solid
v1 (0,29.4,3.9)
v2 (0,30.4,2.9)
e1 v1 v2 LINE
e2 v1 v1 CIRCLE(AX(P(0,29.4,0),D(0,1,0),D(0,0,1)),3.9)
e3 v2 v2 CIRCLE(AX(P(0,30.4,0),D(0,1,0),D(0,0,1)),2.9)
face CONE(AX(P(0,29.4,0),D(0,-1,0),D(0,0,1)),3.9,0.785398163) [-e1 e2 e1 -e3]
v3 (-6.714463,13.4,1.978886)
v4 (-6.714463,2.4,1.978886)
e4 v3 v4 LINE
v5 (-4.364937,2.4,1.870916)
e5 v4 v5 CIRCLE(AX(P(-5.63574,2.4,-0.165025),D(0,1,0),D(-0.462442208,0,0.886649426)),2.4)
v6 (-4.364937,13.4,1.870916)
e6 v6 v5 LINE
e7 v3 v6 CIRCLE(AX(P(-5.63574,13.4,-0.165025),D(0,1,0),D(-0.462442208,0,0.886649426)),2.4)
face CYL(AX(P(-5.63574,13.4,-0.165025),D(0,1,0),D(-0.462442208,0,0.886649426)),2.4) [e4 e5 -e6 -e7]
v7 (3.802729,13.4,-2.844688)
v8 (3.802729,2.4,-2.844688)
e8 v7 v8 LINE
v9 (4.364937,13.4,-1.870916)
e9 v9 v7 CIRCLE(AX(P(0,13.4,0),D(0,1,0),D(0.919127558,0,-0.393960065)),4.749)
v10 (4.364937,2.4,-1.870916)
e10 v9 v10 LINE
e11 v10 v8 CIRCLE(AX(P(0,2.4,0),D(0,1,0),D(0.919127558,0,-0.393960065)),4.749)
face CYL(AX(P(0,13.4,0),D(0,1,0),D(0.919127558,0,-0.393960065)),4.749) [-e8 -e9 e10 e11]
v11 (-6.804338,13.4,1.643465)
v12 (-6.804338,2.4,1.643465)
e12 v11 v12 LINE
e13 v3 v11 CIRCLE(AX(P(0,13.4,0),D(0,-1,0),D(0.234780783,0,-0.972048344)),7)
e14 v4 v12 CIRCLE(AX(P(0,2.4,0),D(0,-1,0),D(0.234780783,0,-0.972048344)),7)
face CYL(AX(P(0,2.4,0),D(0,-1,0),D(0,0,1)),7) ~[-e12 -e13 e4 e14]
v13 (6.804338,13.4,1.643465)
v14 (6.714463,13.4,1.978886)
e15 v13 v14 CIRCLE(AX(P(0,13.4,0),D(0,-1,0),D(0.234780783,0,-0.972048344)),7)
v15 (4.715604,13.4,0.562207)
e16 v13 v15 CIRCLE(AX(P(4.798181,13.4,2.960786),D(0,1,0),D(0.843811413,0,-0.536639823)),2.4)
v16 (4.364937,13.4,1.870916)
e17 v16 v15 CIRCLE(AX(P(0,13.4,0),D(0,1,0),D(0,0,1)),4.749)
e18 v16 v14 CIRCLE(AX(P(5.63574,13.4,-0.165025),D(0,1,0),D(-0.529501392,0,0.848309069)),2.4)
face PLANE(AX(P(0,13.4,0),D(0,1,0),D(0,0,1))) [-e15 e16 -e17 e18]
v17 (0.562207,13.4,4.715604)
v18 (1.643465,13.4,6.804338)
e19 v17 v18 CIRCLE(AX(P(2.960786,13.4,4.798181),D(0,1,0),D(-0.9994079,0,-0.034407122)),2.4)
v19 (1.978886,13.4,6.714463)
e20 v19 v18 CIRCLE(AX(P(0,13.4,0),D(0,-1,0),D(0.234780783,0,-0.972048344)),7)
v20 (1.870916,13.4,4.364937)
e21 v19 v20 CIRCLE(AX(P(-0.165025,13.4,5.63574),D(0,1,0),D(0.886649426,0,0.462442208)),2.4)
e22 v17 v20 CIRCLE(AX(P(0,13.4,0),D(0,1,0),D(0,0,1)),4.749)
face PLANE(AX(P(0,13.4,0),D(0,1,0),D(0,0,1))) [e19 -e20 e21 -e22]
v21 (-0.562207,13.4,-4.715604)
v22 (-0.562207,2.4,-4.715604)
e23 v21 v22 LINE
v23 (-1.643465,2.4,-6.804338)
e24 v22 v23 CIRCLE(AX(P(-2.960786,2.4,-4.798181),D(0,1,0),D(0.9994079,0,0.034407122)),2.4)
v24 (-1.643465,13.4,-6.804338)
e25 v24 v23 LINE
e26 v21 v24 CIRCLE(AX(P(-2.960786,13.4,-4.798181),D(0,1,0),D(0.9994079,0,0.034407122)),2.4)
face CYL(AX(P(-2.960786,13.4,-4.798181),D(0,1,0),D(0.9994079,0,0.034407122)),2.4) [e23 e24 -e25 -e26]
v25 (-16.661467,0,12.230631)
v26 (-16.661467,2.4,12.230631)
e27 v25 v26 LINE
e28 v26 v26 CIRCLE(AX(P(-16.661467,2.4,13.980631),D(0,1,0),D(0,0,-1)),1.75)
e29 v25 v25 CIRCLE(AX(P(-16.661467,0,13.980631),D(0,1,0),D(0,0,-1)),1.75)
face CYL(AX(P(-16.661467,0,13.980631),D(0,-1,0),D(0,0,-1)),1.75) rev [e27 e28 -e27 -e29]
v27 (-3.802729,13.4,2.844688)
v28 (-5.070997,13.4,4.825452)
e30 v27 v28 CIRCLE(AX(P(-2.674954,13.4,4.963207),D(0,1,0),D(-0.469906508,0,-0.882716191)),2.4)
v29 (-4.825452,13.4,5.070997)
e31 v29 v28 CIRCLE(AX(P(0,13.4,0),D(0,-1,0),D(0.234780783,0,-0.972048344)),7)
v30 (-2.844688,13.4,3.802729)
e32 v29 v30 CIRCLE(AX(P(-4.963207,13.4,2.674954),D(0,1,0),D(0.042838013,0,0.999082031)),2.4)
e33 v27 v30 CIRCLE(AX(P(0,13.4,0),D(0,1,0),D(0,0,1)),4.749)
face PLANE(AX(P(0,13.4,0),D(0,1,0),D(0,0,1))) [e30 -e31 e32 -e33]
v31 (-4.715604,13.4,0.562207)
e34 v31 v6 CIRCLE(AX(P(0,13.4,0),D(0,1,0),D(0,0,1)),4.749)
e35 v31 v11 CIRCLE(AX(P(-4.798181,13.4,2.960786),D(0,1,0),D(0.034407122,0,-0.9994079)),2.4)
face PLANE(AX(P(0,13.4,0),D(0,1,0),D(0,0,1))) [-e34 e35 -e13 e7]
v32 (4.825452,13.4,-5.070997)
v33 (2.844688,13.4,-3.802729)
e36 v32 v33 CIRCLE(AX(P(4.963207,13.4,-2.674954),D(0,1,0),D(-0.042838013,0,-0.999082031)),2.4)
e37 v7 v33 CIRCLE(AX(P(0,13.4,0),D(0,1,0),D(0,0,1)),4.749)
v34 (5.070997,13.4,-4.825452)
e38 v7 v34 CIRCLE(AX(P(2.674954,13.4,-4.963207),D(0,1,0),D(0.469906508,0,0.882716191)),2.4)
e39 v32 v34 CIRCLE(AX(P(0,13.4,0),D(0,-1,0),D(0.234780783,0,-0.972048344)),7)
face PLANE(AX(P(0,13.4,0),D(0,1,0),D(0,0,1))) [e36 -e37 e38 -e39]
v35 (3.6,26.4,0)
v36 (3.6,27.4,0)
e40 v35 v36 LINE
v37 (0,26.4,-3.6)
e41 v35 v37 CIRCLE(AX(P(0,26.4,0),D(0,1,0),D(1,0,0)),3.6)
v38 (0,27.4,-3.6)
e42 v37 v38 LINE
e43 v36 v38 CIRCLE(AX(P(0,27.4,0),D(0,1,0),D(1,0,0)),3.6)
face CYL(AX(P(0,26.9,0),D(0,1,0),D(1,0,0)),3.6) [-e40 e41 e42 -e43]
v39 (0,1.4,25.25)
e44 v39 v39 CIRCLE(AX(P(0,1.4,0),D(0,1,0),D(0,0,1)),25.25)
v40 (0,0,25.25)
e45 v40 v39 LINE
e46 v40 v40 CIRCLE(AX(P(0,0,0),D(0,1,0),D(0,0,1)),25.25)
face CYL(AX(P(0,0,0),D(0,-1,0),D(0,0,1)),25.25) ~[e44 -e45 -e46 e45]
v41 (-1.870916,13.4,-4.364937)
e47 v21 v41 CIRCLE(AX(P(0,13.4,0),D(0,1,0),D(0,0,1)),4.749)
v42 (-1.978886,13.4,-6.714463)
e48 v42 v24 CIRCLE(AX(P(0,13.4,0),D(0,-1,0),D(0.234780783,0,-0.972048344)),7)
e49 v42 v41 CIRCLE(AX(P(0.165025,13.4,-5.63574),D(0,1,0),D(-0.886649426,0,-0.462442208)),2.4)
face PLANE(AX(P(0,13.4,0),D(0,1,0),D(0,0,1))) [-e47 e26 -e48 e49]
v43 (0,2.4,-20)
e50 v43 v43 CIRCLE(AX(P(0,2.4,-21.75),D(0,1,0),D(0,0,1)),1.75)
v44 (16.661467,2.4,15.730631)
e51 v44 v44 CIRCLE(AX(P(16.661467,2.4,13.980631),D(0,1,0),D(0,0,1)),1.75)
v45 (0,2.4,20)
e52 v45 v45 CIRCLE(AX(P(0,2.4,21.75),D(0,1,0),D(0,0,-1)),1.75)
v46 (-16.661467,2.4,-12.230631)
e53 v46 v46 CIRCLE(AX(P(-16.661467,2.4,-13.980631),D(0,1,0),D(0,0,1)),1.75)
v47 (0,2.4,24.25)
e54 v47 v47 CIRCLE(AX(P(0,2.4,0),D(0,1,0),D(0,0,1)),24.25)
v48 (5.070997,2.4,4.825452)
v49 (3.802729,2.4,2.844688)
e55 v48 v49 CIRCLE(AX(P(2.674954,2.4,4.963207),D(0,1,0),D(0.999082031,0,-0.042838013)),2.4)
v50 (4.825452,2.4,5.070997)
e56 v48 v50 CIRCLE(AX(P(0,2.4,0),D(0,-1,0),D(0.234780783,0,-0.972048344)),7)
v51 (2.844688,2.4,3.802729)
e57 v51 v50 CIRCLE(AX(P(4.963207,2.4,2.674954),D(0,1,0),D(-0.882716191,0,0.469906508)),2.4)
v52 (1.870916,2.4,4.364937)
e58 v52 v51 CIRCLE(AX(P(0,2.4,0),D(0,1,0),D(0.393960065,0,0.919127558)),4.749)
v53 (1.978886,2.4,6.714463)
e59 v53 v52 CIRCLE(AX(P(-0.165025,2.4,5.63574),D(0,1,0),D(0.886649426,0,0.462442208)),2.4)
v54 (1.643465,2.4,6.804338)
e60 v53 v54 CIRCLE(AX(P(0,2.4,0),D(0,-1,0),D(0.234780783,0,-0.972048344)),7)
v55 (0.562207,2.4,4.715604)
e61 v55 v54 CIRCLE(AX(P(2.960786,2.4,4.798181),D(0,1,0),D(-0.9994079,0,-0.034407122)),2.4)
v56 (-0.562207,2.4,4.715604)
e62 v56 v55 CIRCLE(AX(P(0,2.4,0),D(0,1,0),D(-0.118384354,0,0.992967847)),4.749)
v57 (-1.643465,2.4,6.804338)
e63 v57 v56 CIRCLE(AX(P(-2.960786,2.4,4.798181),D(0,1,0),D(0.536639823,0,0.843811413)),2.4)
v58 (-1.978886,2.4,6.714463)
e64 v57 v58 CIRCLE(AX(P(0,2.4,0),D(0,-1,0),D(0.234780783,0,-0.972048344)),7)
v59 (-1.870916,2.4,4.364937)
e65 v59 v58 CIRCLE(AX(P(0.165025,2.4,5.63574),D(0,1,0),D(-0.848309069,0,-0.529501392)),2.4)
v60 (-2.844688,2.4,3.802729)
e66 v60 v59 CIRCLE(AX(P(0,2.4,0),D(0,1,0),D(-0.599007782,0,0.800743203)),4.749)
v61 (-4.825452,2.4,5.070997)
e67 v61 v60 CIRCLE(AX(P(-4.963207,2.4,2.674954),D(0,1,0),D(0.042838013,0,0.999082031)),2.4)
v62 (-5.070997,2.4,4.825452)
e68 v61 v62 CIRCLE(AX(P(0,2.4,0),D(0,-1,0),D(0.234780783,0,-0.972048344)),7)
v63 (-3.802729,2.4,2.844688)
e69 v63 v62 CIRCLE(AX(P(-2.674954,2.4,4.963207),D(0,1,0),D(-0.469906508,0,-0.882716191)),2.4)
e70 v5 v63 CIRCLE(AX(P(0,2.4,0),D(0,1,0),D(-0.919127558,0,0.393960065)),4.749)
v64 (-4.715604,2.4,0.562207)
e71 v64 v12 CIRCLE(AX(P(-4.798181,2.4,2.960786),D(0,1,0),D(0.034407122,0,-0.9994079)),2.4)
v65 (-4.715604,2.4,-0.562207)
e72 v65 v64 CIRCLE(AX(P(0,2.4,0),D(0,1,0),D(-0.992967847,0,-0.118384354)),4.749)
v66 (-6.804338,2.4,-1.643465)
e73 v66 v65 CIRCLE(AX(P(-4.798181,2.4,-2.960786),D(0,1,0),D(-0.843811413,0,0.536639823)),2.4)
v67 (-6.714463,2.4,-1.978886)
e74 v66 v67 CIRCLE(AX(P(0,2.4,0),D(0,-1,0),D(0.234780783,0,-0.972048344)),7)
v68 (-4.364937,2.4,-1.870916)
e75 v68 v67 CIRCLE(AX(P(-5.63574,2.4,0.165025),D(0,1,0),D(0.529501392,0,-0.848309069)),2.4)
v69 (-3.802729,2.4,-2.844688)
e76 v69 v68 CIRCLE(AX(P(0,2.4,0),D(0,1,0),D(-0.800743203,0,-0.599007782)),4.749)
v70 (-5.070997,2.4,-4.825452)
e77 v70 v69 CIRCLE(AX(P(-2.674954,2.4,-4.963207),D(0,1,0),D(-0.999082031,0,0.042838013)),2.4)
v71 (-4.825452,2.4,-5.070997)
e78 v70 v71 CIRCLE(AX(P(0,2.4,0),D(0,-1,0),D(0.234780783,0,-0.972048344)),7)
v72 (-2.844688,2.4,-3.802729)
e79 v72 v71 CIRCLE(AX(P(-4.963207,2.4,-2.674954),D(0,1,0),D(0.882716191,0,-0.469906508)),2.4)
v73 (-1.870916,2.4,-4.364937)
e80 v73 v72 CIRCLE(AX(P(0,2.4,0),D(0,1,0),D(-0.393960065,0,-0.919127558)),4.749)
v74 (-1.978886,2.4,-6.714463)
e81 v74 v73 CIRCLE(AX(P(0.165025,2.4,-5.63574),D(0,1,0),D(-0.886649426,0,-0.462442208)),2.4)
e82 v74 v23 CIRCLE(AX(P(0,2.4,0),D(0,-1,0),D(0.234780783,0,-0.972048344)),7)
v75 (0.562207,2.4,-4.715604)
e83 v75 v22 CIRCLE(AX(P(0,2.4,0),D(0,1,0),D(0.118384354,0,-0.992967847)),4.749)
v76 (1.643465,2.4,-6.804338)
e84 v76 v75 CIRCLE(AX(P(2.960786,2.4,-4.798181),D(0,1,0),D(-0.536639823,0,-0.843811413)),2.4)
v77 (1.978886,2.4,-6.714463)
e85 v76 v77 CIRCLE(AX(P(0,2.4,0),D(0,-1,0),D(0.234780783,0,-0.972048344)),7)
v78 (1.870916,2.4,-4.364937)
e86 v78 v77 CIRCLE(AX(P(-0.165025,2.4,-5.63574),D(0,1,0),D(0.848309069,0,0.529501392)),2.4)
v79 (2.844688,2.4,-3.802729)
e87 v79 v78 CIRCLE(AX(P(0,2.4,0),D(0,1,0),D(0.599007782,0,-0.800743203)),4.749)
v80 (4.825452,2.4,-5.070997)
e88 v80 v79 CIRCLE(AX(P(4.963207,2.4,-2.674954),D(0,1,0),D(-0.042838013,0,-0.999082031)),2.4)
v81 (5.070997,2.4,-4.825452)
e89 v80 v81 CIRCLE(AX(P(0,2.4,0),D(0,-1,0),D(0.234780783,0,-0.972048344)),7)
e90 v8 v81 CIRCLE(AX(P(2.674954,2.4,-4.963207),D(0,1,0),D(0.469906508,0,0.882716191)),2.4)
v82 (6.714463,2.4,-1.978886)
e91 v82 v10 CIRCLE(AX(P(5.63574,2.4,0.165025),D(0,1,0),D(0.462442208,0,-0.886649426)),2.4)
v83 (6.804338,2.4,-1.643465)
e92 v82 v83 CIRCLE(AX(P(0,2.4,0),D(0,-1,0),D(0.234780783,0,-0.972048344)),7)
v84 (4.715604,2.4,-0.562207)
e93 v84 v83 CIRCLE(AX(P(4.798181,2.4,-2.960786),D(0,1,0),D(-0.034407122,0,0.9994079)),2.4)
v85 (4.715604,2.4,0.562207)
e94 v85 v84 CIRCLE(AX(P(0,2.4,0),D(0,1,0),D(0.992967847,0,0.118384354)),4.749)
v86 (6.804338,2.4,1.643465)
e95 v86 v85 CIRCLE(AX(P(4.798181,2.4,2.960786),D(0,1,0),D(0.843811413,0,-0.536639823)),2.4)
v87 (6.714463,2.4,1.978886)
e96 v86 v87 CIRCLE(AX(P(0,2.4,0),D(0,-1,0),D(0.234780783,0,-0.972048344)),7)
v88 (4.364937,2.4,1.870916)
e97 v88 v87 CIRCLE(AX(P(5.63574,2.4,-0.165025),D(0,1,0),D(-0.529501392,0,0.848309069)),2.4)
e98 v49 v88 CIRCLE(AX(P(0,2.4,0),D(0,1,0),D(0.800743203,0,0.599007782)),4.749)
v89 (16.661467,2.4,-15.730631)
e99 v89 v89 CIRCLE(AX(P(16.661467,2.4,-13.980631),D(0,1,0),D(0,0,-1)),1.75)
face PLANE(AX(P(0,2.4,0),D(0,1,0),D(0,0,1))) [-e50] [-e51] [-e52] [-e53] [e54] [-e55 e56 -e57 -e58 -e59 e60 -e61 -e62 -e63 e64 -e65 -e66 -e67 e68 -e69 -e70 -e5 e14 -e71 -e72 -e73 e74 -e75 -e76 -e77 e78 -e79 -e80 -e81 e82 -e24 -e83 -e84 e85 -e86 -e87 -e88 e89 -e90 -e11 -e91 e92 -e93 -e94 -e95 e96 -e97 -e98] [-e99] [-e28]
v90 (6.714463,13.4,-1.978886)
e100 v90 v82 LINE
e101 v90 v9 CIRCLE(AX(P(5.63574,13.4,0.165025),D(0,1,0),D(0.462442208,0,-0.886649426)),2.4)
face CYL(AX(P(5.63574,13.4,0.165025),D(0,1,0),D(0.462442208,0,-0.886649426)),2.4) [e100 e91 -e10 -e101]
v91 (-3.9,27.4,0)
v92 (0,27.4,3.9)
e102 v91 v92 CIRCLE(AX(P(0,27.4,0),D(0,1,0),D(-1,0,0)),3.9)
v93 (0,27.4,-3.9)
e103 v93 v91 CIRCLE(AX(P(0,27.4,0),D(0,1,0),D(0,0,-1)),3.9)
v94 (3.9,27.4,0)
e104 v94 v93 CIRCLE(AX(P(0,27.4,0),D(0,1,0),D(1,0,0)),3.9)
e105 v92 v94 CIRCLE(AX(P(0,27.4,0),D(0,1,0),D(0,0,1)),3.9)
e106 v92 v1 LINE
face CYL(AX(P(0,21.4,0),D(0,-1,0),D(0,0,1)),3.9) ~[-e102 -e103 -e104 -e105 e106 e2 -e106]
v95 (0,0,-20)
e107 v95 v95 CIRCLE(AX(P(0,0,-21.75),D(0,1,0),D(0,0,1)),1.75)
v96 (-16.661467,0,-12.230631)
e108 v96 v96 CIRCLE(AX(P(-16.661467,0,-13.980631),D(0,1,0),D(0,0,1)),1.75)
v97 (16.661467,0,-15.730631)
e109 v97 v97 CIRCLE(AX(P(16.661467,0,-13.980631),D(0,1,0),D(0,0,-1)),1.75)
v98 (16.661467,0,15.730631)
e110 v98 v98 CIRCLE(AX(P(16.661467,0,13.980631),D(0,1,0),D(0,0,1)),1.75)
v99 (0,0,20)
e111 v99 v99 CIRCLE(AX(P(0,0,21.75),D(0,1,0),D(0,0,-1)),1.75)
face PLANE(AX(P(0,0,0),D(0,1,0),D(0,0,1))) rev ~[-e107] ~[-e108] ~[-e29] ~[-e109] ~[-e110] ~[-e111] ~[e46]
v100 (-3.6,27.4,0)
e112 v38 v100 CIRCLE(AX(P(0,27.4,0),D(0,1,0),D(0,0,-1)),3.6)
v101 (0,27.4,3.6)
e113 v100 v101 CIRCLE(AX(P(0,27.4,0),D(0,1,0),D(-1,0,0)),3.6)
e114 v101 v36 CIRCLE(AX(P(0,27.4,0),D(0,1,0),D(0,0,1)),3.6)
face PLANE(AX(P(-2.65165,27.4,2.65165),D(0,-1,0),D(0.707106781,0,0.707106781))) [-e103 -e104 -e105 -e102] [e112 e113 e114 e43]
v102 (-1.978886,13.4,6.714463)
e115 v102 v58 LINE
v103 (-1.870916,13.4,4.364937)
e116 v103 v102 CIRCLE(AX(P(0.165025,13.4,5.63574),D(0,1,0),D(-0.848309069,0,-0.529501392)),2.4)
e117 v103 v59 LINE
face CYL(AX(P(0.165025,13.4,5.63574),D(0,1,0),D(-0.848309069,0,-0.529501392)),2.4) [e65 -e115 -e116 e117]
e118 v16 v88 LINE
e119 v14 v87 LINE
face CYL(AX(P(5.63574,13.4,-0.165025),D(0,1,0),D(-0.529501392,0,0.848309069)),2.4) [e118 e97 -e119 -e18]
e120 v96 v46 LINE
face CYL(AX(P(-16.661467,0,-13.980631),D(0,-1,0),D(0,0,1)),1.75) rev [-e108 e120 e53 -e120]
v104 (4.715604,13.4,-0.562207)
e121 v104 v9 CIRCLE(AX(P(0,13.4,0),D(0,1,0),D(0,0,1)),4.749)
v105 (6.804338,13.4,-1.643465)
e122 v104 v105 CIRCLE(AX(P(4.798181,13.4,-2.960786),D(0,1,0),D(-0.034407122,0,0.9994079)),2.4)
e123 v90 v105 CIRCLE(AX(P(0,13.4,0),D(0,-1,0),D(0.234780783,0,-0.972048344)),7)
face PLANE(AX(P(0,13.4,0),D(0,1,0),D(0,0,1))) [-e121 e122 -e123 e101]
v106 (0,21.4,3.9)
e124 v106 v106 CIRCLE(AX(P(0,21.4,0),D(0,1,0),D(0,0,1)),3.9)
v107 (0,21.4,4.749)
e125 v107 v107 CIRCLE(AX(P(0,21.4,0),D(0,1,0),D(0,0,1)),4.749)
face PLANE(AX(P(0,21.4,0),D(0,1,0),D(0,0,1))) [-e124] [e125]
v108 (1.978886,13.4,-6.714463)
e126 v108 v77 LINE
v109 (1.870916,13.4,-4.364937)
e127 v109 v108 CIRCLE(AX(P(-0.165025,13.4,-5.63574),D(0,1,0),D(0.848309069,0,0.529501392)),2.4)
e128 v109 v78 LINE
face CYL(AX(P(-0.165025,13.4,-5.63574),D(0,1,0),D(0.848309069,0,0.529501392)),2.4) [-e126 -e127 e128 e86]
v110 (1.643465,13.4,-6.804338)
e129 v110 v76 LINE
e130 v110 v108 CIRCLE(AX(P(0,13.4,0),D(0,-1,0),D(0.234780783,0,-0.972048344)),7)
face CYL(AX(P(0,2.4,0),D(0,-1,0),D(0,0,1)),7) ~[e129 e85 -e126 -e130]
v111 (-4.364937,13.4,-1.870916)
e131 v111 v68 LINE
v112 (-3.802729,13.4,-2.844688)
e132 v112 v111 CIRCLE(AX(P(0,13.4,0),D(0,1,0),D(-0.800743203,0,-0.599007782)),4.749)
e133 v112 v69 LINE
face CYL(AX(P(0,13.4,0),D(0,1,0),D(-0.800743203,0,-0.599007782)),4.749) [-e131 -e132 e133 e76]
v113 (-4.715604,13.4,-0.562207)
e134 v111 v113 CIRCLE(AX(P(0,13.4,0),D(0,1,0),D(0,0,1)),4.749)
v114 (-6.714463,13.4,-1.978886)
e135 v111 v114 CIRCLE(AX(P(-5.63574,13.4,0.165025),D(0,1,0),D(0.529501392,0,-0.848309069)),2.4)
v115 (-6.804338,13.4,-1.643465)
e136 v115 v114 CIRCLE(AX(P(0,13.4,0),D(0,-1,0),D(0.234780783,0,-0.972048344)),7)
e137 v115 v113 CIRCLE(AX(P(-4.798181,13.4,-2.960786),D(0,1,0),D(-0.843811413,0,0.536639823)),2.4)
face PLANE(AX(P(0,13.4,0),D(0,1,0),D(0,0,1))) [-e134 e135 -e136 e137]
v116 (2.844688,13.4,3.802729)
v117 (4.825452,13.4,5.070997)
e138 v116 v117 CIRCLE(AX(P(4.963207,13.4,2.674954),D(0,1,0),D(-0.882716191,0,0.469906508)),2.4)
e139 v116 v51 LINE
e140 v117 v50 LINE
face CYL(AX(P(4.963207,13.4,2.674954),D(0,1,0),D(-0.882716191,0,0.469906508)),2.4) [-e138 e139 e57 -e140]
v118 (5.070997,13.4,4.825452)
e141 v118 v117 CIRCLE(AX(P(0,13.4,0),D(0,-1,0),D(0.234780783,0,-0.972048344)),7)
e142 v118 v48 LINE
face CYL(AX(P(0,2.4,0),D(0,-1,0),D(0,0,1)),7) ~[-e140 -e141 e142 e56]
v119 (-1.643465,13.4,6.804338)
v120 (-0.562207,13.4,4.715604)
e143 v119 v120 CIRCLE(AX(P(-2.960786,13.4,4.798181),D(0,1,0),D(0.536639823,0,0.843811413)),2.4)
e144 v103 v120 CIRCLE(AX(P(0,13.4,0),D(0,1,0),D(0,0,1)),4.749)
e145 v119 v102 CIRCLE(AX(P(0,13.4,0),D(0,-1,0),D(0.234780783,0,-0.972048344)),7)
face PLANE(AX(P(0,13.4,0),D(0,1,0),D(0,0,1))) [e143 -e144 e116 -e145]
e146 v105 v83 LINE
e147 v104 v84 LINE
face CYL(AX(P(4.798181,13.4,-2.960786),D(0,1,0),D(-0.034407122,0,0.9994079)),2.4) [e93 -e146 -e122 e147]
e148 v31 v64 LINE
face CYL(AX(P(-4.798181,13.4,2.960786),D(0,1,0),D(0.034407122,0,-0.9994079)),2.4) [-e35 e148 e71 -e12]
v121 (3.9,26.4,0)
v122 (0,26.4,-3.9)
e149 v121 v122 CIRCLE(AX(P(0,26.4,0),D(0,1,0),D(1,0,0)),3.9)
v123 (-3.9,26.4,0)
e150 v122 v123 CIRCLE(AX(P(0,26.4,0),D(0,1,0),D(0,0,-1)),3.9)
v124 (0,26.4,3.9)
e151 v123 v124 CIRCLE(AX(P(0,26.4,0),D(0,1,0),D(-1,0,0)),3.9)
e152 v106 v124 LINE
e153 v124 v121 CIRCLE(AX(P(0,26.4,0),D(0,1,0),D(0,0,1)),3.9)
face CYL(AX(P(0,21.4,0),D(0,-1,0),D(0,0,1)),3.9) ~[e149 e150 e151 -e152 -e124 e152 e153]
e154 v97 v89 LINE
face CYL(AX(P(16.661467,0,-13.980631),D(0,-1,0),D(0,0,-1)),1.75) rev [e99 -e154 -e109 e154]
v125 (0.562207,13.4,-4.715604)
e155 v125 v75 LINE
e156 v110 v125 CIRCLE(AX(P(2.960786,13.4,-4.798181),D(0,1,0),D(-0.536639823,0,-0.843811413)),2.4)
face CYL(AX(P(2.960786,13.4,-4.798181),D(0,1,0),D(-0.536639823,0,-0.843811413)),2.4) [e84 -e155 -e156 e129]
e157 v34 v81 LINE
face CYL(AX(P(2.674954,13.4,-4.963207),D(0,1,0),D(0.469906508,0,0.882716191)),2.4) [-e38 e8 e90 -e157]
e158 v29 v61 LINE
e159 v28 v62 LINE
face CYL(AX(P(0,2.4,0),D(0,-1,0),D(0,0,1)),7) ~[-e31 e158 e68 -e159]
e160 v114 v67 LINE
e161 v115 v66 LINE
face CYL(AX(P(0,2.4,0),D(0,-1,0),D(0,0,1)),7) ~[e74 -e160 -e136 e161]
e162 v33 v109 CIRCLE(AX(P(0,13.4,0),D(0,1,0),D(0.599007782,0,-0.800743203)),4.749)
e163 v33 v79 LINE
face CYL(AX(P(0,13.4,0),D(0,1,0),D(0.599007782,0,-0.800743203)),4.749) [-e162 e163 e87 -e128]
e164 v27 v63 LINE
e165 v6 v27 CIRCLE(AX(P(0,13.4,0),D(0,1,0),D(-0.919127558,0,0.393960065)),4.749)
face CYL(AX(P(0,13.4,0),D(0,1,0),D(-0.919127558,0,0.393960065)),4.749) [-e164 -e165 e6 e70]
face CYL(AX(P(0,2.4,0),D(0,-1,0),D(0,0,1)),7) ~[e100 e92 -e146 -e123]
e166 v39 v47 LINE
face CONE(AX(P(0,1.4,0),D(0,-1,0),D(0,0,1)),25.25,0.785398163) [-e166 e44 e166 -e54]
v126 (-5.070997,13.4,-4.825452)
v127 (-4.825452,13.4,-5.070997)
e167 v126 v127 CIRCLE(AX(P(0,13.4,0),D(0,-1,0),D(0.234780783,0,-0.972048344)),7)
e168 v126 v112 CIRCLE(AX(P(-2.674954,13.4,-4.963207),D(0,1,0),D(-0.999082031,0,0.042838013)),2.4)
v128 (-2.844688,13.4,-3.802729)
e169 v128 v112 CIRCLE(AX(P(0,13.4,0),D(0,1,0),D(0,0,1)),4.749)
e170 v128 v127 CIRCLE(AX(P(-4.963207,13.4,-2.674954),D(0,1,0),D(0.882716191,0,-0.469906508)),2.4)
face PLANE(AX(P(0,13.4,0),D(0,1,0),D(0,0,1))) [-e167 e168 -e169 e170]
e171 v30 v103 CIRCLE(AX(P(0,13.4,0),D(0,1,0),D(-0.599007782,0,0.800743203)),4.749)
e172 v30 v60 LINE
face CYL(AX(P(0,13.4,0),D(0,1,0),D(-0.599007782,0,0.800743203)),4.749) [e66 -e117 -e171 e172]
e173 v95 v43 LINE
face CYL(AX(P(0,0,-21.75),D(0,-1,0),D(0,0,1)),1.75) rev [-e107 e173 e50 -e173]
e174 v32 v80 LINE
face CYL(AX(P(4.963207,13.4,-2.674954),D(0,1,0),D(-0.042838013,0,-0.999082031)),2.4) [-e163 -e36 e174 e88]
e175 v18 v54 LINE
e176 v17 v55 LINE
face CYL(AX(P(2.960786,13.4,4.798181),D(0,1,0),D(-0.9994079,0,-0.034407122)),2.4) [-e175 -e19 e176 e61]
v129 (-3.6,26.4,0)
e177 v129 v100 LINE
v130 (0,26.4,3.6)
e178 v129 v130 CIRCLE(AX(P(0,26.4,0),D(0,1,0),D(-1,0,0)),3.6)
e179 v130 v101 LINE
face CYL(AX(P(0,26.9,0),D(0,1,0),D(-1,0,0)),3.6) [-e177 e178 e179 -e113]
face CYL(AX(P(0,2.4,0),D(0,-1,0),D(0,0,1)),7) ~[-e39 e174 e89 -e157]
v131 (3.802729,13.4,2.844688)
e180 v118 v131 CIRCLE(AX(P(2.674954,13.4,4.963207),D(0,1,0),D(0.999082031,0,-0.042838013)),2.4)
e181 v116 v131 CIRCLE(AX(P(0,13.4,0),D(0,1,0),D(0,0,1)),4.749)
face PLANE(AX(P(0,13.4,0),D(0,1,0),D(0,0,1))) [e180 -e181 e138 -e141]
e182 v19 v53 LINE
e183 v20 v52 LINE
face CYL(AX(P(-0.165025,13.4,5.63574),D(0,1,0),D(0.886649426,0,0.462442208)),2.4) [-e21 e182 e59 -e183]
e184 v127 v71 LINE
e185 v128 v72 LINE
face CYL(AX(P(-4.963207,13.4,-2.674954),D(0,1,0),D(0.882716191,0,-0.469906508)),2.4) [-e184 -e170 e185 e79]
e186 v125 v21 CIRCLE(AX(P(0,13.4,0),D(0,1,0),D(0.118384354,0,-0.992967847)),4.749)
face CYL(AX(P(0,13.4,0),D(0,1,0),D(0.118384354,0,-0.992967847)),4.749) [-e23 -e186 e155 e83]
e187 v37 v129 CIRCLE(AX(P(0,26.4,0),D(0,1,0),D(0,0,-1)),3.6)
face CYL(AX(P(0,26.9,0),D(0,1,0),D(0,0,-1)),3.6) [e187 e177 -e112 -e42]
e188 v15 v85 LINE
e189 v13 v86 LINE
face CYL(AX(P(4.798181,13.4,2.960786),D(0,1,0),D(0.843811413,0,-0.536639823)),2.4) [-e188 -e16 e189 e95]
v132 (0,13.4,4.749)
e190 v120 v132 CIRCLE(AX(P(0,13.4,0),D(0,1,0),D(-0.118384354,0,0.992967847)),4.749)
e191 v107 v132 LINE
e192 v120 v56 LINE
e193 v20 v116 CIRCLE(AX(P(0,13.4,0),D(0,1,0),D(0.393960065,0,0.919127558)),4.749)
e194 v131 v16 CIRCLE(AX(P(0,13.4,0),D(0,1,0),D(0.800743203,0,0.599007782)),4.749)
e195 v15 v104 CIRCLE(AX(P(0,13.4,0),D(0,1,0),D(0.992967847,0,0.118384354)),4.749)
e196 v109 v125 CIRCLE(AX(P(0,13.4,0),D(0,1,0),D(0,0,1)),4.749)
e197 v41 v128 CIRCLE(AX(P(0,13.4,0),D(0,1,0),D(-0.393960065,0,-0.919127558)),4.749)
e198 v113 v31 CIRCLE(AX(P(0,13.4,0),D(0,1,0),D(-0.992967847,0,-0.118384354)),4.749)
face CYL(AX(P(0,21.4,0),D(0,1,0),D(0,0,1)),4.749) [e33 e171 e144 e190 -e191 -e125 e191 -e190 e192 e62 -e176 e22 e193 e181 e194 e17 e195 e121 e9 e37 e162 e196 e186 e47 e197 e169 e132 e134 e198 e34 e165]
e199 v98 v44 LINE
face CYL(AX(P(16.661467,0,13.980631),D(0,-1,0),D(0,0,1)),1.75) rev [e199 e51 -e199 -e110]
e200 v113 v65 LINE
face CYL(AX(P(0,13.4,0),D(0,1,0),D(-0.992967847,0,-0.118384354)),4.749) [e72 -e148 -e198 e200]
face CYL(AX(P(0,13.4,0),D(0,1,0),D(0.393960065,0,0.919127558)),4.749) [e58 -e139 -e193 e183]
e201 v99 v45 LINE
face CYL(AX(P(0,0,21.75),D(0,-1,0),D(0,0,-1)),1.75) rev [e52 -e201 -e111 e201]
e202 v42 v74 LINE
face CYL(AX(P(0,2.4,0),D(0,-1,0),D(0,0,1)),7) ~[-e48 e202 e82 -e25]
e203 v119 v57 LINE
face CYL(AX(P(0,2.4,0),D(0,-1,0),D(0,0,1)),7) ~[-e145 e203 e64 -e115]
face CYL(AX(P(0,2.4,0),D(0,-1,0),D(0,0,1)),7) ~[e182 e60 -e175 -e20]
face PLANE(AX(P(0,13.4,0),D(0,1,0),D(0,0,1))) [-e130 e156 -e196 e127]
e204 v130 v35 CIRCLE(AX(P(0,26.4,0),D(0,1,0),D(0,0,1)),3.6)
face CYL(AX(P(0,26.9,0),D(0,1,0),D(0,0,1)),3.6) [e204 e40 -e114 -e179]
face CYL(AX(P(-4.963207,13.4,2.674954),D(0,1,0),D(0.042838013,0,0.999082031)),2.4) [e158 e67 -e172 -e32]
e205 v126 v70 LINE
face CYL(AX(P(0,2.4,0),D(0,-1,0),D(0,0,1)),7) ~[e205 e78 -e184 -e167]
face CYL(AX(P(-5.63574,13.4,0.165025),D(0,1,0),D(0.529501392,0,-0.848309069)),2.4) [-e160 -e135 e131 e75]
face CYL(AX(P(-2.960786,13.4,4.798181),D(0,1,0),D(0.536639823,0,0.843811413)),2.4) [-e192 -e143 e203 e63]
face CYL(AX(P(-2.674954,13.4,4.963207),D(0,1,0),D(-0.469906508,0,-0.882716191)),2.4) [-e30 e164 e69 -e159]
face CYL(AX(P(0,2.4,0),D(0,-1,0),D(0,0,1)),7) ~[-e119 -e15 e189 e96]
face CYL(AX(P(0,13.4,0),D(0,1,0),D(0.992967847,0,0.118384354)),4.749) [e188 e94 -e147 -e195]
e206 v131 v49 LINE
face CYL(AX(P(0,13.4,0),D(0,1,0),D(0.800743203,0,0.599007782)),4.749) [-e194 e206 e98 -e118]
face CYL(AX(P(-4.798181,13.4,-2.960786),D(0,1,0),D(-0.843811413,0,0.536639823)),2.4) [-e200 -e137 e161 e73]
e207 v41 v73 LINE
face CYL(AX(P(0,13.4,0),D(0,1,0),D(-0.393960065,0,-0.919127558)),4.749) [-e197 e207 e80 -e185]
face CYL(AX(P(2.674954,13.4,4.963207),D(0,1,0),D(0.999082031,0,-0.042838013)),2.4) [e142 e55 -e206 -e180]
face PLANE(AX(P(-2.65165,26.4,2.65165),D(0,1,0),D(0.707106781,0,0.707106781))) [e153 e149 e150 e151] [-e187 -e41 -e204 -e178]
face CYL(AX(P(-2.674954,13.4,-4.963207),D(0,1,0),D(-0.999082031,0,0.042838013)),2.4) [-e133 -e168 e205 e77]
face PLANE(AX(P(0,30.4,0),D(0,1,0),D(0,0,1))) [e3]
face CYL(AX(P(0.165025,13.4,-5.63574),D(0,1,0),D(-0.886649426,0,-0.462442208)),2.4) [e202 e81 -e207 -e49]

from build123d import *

# Parameters (mm, degrees)
SKETCH1_R           = 25.25
SKETCH1_R_2         = 1.75
BOSS_EXTRUDE1_DEPTH = 2.4
SKETCH3_R           = 7
BOSS_EXTRUDE3_DEPTH = 11
CUT_EXTRUDE1_DEPTH  = 11
CIRPATTERN1_COUNT   = 12
CHAMFER1_SIZE       = 1
BOSS_EXTRUDE4_START = 8
SKETCH6_R           = 4.749
BOSS_EXTRUDE4_DEPTH = 8
BOSS_EXTRUDE5_START = 8
SKETCH6_3_R         = 3.9
BOSS_EXTRUDE5_DEPTH = 9
CHAMFER2_SIZE       = 1
SKETCH7_W           = 0.3
SKETCH7_H           = 1


with BuildPart() as part:
    # Sketch1 → Boss-Extrude1 (new body)
    with BuildSketch(Plane(origin=(0, 0, 0), x_dir=(1, 0, 0), z_dir=(0, 1, 0))):
        with Locations(Location((0, 0, 0), (0, 0, 270))):
            Circle(SKETCH1_R)
        with Locations(Location((0, 21.75, 0), (0, 0, 270))):
            Circle(SKETCH1_R_2, mode=Mode.SUBTRACT)
        with Locations(Location((-16.661466638, 13.980630511, 0), (0, 0, 270))):
            Circle(SKETCH1_R_2, mode=Mode.SUBTRACT)
        with Locations(Location((16.661466638, 13.980630511, 0), (0, 0, 90))):
            Circle(SKETCH1_R_2, mode=Mode.SUBTRACT)
        with Locations(Location((16.661466638, -13.980630511, 0), (0, 0, 270))):
            Circle(SKETCH1_R_2, mode=Mode.SUBTRACT)
        with Locations(Location((0, -21.75, 0), (0, 0, 90))):
            Circle(SKETCH1_R_2, mode=Mode.SUBTRACT)
        with Locations(Location((-16.661466638, -13.980630511, 0), (0, 0, 90))):
            Circle(SKETCH1_R_2, mode=Mode.SUBTRACT)
    extrude(amount=BOSS_EXTRUDE1_DEPTH)

    # Sketch3 → Boss-Extrude3 (add)
    with BuildSketch(Plane(origin=(0, 2.4, 0), x_dir=(1, 0, 0), z_dir=(0, 1, 0))):
        with Locations(Location((0, 0, 0), (0, 0, 270))):
            Circle(SKETCH3_R)
    extrude(amount=BOSS_EXTRUDE3_DEPTH)

    # Sketch4 → Cut-Extrude1 (cut)
    with BuildSketch(Plane(origin=(0, 13.4, 0), x_dir=(1, 0, 0), z_dir=(0, 1, 0))):
        with BuildLine():
            ThreePointArc((0.562207301, 4.715604304), (0, 4.749), (-0.562207301, 4.715604304))
            ThreePointArc((-0.562207301, 4.715604304), (-0.837528627, 5.917009812), (-1.672850686, 6.823328788))
            ThreePointArc((-1.672850686, 6.823328788), (0, 7.0254), (1.672850686, 6.823328788))
            ThreePointArc((1.672850686, 6.823328788), (0.837528627, 5.917009812), (0.562207301, 4.715604304))
        make_face()
    cut_extrude1 = extrude(amount=-CUT_EXTRUDE1_DEPTH, mode=Mode.SUBTRACT)

    # CirPattern1: Cut-Extrude1 ×12 about axis
    cirpattern1_axis = Axis((0, 0, 0), (0, 1, 0))
    for i in range(1, CIRPATTERN1_COUNT):
        add(cut_extrude1.rotate(cirpattern1_axis, i * 360 / CIRPATTERN1_COUNT), mode=Mode.SUBTRACT)

    # Chamfer1
    chamfer1_edges = [part.edges().sort_by_distance(p)[0] for p in [
        (0, 2.4, -25.25),
    ]]
    chamfer(chamfer1_edges, length=CHAMFER1_SIZE)

    # Sketch6 → Boss-Extrude4 (add)
    with BuildSketch(Plane(origin=(0, 13.4, 0), x_dir=(1, 0, 0), z_dir=(0, 1, 0)).offset(BOSS_EXTRUDE4_START)):
        with Locations(Location((0, 0, 0), (0, 0, 270))):
            Circle(SKETCH6_R)
    extrude(amount=-BOSS_EXTRUDE4_DEPTH)

    # Sketch6<3> → Boss-Extrude5 (add)
    with BuildSketch(Plane(origin=(0, 13.4, 0), x_dir=(1, 0, 0), z_dir=(0, 1, 0)).offset(BOSS_EXTRUDE5_START)):
        with Locations(Location((0, 0, 0), (0, 0, 270))):
            Circle(SKETCH6_3_R)
    extrude(amount=BOSS_EXTRUDE5_DEPTH)

    # Chamfer2
    chamfer2_edges = [part.edges().sort_by_distance(p)[0] for p in [
        (0, 30.4, -3.9),
    ]]
    chamfer(chamfer2_edges, length=CHAMFER2_SIZE)

    # Cut-Sweep1: sweep along a curve in space
    with BuildLine() as cut_sweep1_path:
        ThreePointArc((0, 29.4, 3.9), (2.757716447, 29.4, 2.757716447), (3.9, 29.4, 0))
        ThreePointArc((3.9, 29.4, 0), (2.757716447, 29.4, -2.757716447), (0, 29.4, -3.9))
        ThreePointArc((0, 29.4, -3.9), (-2.757716447, 29.4, -2.757716447), (-3.9, 29.4, 0))
        ThreePointArc((-3.9, 29.4, 0), (-2.757716447, 29.4, 2.757716447), (0, 29.4, 3.9))
    # Sketch7 → Cut-Sweep1 (sweep, cut)
    with BuildSketch(Plane.XY):
        with Locations((-3.75, 26.9)):
            Rectangle(SKETCH7_W, SKETCH7_H)
    sweep(path=cut_sweep1_path.line, mode=Mode.SUBTRACT)


solid = part.part
